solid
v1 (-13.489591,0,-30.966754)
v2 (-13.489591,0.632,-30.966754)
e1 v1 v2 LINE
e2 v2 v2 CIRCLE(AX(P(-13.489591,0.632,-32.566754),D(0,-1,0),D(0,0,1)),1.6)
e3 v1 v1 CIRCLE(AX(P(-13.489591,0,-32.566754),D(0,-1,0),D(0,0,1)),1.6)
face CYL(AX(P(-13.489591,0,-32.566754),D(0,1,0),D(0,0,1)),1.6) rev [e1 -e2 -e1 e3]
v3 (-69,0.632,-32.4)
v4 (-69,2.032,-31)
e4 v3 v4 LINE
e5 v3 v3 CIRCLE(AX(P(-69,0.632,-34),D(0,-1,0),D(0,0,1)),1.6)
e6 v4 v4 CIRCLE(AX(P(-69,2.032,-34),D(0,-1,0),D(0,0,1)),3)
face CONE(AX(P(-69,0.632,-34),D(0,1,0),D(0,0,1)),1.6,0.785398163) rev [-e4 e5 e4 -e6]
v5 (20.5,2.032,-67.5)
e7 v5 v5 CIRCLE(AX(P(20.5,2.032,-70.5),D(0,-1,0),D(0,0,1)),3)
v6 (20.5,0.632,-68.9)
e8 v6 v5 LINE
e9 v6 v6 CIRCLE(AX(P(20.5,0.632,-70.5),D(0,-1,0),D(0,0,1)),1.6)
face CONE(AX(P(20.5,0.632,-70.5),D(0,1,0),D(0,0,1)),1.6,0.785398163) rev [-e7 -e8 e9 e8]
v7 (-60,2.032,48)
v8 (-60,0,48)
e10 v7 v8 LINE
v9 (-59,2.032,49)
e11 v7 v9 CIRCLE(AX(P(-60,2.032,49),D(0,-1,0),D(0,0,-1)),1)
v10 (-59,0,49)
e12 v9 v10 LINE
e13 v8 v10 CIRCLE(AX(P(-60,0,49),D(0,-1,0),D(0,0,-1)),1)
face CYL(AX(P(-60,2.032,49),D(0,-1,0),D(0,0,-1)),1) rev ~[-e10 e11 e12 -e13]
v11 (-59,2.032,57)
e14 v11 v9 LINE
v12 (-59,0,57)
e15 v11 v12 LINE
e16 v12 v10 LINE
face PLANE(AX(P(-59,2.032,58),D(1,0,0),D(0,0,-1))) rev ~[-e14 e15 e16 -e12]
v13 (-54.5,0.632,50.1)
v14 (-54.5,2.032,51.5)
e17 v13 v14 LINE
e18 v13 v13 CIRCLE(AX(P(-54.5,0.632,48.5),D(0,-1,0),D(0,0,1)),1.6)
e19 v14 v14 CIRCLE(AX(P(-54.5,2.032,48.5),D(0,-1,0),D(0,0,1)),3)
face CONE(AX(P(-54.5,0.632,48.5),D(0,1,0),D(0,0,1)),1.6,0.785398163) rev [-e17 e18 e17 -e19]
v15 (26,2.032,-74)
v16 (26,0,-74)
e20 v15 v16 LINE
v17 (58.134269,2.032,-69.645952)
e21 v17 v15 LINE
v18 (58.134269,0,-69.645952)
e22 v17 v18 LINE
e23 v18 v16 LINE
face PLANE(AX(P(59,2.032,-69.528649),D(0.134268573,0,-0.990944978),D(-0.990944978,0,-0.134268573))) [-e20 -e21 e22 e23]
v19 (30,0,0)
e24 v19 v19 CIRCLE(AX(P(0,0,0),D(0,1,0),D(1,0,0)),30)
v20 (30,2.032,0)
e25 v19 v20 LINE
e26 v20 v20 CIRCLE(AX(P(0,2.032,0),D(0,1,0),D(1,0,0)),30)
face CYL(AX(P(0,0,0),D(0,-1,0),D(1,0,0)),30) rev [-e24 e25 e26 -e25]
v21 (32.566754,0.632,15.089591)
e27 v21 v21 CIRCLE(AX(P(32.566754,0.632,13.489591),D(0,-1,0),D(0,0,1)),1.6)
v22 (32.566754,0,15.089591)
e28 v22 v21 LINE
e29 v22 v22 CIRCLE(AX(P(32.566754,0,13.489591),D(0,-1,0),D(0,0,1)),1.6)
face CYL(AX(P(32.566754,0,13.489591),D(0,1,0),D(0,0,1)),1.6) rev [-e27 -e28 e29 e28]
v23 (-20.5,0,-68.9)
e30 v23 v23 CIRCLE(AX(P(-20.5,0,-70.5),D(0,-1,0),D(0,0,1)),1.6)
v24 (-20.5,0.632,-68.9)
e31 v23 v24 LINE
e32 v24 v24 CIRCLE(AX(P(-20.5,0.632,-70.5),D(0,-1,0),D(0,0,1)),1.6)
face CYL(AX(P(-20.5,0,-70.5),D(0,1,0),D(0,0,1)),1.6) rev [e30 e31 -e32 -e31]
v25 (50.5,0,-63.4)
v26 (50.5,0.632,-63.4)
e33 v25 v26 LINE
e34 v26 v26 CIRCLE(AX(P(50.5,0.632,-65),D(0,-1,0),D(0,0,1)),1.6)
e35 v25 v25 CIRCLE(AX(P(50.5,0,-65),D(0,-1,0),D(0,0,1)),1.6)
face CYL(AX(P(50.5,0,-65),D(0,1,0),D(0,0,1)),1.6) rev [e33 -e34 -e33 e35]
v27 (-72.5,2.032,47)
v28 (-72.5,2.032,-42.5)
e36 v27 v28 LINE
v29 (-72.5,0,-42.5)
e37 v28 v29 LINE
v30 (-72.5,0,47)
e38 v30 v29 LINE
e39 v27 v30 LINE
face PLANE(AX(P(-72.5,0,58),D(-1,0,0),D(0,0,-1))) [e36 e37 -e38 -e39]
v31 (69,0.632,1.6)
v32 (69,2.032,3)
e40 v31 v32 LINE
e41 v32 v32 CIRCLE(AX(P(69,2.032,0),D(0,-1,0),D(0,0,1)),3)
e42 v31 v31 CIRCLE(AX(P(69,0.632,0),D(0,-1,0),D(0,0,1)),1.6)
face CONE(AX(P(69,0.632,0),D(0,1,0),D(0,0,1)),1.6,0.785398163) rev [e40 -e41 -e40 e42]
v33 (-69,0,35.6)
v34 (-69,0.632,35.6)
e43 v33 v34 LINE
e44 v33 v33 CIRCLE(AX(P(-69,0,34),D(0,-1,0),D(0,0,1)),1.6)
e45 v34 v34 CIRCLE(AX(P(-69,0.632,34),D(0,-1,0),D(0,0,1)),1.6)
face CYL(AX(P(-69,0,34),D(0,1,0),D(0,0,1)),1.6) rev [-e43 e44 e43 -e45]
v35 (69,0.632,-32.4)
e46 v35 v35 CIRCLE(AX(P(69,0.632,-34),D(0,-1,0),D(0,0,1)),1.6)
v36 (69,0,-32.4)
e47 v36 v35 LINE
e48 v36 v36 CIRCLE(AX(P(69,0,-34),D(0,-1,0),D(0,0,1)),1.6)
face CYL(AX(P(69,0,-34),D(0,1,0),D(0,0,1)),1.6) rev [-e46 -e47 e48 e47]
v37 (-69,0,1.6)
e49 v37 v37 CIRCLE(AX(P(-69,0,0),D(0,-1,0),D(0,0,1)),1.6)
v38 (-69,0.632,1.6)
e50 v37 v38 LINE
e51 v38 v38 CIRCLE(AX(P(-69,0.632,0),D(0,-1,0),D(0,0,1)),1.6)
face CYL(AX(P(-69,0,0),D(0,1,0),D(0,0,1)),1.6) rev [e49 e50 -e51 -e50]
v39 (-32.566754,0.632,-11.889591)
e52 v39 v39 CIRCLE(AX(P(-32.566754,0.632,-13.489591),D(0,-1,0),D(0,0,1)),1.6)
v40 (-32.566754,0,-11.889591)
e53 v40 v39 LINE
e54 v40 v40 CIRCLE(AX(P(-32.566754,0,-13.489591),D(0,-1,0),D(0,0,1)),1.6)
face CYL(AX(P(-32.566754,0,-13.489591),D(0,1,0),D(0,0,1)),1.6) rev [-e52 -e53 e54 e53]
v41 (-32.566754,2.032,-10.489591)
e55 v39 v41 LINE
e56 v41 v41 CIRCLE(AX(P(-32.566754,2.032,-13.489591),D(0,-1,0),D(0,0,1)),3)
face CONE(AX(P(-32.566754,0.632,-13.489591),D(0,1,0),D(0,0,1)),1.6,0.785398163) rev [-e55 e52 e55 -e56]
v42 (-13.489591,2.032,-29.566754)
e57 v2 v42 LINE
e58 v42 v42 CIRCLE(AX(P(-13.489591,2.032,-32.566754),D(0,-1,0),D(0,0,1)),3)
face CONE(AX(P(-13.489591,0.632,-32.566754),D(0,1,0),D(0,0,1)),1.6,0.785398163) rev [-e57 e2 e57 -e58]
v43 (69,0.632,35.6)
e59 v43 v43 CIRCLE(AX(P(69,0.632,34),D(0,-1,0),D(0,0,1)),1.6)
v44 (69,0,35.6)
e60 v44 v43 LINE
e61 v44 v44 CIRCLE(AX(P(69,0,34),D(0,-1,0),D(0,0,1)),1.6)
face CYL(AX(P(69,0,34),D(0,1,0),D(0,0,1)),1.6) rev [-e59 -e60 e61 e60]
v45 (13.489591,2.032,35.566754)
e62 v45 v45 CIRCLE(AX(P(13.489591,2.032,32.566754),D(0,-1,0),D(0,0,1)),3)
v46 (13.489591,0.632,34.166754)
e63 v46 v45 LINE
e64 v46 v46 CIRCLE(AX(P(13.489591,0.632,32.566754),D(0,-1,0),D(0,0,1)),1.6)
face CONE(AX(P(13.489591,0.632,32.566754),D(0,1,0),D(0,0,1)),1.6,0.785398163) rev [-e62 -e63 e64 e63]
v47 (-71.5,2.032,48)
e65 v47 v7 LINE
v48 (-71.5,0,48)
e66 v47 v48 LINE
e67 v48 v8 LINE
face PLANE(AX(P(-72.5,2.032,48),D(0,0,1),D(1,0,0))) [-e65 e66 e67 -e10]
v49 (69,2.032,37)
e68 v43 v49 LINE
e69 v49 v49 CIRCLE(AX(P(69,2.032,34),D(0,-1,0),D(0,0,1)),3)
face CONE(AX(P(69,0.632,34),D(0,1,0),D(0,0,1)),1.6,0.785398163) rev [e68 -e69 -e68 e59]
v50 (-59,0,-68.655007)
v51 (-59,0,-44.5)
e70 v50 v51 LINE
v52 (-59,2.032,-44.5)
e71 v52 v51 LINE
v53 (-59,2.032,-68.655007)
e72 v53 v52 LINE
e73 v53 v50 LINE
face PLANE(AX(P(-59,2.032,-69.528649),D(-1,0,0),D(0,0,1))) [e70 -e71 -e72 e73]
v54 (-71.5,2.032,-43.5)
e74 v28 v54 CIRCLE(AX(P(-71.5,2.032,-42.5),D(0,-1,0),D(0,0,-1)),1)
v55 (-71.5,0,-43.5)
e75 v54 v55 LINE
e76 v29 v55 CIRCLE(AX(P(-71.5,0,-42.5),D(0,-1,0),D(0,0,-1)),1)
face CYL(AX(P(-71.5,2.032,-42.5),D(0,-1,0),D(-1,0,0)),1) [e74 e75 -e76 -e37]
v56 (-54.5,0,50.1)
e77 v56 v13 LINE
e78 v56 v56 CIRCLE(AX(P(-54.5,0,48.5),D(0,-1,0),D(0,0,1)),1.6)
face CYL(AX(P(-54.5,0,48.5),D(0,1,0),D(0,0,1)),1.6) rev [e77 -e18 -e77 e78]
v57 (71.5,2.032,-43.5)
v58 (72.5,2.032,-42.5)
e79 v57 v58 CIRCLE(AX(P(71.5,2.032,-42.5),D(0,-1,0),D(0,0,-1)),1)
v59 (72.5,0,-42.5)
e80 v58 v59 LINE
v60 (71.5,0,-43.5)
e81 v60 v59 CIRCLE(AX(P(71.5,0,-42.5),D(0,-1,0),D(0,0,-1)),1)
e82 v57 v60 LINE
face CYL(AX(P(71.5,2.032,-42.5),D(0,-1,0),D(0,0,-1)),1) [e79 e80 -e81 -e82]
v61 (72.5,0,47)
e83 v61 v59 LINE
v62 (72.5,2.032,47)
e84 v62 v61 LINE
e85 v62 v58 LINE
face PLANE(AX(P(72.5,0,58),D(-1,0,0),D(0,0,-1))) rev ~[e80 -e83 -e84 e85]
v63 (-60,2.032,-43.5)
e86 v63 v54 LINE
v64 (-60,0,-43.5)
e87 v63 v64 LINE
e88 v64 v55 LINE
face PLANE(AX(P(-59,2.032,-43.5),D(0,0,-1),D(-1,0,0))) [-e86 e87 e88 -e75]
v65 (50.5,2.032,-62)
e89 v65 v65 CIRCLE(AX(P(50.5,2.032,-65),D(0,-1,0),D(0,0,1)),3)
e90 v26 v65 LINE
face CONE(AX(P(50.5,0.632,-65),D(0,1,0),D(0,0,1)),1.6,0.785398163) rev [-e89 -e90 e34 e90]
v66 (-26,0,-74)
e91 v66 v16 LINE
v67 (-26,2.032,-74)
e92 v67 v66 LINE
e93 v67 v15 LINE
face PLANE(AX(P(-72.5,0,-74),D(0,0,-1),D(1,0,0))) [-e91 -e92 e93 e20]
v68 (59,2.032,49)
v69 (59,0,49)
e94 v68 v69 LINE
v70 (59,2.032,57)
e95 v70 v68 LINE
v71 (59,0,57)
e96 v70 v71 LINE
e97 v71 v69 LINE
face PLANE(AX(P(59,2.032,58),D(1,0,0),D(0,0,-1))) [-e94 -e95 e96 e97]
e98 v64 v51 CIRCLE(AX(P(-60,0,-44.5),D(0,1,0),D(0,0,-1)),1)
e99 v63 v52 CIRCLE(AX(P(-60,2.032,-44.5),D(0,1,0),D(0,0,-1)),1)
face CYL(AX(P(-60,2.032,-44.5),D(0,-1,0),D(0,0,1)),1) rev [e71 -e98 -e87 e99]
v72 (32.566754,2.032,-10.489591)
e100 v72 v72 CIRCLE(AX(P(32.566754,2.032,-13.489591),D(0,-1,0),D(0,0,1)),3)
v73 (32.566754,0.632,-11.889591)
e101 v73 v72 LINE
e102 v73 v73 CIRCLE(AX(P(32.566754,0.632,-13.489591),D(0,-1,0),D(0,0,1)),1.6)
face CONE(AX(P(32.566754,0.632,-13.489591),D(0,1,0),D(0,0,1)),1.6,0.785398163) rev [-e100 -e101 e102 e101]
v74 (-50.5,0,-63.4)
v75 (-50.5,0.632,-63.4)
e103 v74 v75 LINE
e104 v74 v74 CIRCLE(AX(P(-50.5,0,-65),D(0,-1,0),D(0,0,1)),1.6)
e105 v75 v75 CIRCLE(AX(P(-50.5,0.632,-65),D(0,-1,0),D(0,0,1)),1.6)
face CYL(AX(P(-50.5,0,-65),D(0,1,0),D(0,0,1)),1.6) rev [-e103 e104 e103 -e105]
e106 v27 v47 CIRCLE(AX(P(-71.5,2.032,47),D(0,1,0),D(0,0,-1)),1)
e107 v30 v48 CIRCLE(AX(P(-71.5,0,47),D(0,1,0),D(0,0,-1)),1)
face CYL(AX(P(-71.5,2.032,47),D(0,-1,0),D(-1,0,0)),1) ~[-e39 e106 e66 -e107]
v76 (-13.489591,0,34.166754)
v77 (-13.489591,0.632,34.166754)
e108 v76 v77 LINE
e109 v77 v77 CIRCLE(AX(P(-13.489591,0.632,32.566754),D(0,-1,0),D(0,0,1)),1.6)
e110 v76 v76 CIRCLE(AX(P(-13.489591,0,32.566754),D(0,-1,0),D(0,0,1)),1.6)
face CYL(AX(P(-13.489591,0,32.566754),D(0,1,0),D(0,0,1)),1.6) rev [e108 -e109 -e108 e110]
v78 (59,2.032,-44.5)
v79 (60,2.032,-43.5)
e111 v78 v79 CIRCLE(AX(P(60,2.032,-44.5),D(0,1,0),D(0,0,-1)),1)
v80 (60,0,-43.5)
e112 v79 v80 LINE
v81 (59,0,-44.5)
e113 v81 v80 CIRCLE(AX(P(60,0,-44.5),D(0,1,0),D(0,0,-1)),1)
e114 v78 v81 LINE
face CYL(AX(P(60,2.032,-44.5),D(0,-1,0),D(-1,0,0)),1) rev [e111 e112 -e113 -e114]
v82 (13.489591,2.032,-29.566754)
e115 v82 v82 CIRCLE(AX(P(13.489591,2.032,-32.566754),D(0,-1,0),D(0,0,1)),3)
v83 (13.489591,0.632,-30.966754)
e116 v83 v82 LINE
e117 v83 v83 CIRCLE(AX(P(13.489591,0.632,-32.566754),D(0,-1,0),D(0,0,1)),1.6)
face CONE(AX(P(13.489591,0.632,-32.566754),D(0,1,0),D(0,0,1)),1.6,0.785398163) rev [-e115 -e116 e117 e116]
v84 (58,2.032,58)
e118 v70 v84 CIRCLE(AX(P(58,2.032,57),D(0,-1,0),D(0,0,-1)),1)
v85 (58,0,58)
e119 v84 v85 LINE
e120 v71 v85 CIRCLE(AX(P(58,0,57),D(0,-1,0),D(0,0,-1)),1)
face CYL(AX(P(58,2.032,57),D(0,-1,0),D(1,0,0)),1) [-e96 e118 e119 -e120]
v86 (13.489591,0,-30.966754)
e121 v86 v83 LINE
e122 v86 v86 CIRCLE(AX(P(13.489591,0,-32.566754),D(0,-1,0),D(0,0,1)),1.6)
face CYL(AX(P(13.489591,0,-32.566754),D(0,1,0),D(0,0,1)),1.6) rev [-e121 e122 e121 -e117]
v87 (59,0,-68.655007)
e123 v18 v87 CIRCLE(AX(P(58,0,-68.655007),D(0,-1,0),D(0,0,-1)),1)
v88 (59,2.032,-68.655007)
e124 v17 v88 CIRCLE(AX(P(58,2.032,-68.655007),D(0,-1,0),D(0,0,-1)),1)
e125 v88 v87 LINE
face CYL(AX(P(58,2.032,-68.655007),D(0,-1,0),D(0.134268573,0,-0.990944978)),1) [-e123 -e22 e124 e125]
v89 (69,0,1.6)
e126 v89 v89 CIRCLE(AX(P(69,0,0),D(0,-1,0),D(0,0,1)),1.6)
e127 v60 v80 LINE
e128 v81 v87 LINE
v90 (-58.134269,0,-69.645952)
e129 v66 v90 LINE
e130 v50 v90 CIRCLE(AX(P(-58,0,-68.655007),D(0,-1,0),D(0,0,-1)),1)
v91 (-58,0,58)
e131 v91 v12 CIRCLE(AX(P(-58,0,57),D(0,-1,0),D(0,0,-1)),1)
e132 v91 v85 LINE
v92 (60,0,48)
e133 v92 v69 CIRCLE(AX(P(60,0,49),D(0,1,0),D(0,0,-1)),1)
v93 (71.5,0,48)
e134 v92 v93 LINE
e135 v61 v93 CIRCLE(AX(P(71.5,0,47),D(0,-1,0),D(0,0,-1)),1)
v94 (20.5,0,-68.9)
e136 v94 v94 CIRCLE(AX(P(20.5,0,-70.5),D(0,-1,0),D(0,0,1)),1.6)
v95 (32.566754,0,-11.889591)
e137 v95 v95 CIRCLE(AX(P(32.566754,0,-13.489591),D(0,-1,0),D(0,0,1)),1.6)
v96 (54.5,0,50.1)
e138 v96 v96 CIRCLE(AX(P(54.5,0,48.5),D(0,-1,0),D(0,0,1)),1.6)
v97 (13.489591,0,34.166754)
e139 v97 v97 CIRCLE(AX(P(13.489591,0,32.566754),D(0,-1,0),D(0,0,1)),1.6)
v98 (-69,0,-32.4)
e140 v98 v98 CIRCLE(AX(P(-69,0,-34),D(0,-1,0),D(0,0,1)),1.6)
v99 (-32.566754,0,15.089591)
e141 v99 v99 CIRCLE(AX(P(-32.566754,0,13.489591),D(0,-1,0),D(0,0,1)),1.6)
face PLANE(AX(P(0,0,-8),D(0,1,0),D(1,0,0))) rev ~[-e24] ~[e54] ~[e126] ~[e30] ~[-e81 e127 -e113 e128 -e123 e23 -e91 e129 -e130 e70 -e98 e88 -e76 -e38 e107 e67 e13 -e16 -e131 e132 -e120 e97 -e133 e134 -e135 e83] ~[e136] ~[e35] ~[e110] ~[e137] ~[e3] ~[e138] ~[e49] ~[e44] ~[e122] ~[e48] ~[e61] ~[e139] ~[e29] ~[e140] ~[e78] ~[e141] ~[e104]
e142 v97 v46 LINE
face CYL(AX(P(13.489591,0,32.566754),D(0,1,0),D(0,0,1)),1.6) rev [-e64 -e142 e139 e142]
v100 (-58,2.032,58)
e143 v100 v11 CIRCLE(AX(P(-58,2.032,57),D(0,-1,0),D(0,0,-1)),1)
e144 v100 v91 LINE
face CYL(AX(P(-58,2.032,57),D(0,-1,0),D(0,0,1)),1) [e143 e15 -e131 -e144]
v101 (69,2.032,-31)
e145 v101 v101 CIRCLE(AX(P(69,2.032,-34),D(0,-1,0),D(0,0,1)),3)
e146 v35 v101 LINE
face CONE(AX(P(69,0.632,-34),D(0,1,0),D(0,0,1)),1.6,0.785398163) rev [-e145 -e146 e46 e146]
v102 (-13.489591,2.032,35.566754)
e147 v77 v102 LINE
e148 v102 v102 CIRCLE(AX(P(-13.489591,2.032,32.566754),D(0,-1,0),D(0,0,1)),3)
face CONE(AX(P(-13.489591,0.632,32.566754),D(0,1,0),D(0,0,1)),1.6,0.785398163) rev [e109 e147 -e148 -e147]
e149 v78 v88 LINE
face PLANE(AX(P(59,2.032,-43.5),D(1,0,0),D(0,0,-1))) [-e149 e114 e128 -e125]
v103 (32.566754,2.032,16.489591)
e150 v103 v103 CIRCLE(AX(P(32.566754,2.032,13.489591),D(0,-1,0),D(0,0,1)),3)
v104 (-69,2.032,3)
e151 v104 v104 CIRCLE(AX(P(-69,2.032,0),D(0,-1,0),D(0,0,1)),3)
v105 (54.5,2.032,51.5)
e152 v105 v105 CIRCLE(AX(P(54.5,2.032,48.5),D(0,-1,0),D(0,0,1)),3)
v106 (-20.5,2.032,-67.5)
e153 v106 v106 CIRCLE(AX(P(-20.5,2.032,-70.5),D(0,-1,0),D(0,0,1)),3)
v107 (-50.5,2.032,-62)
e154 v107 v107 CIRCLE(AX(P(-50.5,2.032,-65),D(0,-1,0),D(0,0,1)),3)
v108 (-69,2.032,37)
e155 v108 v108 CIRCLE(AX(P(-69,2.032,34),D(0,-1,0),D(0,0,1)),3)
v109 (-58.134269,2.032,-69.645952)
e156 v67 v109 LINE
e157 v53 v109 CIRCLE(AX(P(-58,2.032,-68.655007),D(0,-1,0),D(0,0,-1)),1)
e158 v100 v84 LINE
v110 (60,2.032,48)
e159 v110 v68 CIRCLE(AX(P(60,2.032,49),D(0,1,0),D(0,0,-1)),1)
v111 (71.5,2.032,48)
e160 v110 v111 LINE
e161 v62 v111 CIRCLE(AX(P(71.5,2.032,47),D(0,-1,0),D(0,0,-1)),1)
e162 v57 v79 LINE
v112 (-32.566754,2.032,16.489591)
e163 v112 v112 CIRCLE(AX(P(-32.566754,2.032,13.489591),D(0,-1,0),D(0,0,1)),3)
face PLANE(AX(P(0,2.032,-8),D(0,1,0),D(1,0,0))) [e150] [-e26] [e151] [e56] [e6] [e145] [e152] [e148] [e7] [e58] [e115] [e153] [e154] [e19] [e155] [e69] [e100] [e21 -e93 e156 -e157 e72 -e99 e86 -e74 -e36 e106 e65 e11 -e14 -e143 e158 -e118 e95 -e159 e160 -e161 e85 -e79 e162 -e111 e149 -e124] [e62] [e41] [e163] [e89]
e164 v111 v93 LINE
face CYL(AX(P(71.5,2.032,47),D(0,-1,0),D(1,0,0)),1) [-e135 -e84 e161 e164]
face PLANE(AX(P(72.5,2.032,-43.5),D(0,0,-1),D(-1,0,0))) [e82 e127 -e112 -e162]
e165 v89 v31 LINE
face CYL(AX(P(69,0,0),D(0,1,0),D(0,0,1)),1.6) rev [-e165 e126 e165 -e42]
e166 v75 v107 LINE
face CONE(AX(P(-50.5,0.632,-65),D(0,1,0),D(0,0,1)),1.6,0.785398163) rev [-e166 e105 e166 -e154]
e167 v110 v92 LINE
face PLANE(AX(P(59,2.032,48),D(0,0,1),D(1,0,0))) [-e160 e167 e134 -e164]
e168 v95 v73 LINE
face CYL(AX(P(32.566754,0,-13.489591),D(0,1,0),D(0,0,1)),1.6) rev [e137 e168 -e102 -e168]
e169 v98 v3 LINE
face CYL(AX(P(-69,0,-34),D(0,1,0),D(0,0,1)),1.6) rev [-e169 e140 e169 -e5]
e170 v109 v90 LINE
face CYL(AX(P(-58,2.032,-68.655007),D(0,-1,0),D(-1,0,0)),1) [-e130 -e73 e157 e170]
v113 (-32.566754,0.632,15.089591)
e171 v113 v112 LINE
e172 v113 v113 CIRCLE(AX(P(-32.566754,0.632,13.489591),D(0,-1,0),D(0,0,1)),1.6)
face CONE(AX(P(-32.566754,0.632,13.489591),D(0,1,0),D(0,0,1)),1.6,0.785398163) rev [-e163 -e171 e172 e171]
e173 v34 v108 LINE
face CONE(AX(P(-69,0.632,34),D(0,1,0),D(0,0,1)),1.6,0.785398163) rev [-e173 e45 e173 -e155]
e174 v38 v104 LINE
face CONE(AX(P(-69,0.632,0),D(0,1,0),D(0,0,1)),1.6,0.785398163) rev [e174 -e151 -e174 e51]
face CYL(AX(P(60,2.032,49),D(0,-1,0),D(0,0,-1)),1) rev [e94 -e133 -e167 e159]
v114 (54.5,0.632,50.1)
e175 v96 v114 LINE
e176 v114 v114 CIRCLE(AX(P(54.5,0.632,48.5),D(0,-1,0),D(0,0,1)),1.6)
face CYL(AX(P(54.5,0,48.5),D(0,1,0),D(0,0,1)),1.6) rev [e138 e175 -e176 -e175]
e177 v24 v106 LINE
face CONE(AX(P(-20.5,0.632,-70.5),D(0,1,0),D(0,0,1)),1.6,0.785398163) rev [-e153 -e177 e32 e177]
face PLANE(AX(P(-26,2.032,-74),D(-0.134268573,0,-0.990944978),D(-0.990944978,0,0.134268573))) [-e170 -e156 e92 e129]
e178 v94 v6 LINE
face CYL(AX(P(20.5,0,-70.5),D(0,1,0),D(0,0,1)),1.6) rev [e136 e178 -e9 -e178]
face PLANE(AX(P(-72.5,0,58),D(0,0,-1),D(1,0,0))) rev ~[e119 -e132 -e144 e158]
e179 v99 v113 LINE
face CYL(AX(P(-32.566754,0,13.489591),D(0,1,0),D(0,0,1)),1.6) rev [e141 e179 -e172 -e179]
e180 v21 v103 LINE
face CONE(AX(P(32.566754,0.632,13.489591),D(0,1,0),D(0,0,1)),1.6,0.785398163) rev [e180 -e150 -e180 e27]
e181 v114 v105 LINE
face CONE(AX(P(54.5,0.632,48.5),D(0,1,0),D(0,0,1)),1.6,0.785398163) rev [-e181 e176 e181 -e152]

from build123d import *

# Parameters (mm, degrees)
SKETCH1_W                     = 145
SKETCH1_H                     = 132
SKETCH1_R                     = 30
BOSS_EXTRUDE1_DEPTH           = 2.032
CSK_FOR_M3_SFHCS1_AT_2_COUNT  = 2
CSK_FOR_M3_SFHCS1_AT_2_PITCH  = 26.979181982
CSK_FOR_M3_SFHCS1_AT_3_COUNT  = 2
CSK_FOR_M3_SFHCS1_AT_3_PITCH  = 49.851028074
CSK_FOR_M3_SFHCS1_AT_4_COUNT  = 2
CSK_FOR_M3_SFHCS1_AT_4_PITCH  = 65.133507042
CSK_FOR_M3_SFHCS1_AT_5_COUNT  = 2
CSK_FOR_M3_SFHCS1_AT_5_PITCH  = 70.5
CSK_FOR_M3_SFHCS1_AT_6_COUNT  = 2
CSK_FOR_M3_SFHCS1_AT_6_PITCH  = 65.133507042
CSK_FOR_M3_SFHCS1_AT_7_COUNT  = 2
CSK_FOR_M3_SFHCS1_AT_7_PITCH  = 49.851028074
CSK_FOR_M3_SFHCS1_AT_8_COUNT  = 2
CSK_FOR_M3_SFHCS1_AT_8_PITCH  = 26.979181982
CSK_FOR_M3_SFHCS2_AT_2_COUNT  = 2
CSK_FOR_M3_SFHCS2_AT_2_PITCH  = 20.506096654
CSK_FOR_M3_SFHCS2_AT_3_COUNT  = 2
CSK_FOR_M3_SFHCS2_AT_3_PITCH  = 34
CSK_FOR_M3_SFHCS2_AT_4_COUNT  = 2
CSK_FOR_M3_SFHCS2_AT_4_PITCH  = 142.126704036
CSK_FOR_M3_SFHCS2_AT_5_COUNT  = 2
CSK_FOR_M3_SFHCS2_AT_5_PITCH  = 124.348301154
CSK_FOR_M3_SFHCS2_AT_6_COUNT  = 2
CSK_FOR_M3_SFHCS2_AT_6_PITCH  = 138
CSK_FOR_M3_SFHCS2_AT_7_COUNT  = 2
CSK_FOR_M3_SFHCS2_AT_7_PITCH  = 153.844076909
CSK_FOR_M3_SFHCS2_AT_8_COUNT  = 2
CSK_FOR_M3_SFHCS2_AT_8_PITCH  = 68
CSK_FOR_M3_SFHCS2_AT_9_COUNT  = 2
CSK_FOR_M3_SFHCS2_AT_9_PITCH  = 100.713703139
CSK_FOR_M3_SFHCS2_AT_10_COUNT = 2
CSK_FOR_M3_SFHCS2_AT_10_PITCH = 115.206336631
CSK_FOR_M3_SFHCS2_AT_11_COUNT = 2
CSK_FOR_M3_SFHCS2_AT_11_PITCH = 137.58815356
CSK_FOR_M3_SFHCS2_AT_12_COUNT = 2
CSK_FOR_M3_SFHCS2_AT_12_PITCH = 155.181345528
SKETCH9_W                     = 13.5
SKETCH9_H                     = 10
CUT_EXTRUDE3_DEPTH            = 3.032
FILLET1_R                     = 1


with BuildPart() as part:
    # Sketch1 → Boss-Extrude1 (new body)
    with BuildSketch(Plane(origin=(0, 0, 0), x_dir=(1, 0, 0), z_dir=(0, 1, 0))):
        with Locations((0, 8)):
            Rectangle(SKETCH1_W, SKETCH1_H)
        Circle(SKETCH1_R, mode=Mode.SUBTRACT)
    extrude(amount=BOSS_EXTRUDE1_DEPTH)

    # Sketch2 → CSK for M3 SFHCS1 (revolve, cut)
    with BuildSketch(Plane(origin=(13.489590991, 2.032, 32.566753521), x_dir=(0, 0, 1), z_dir=(1, 0, 0))):
        Polygon((0, 0), (0, 2.032), (1.6, 2.032), (1.6, 1.4), (3, 0), align=None)
    csk_for_m3_sfhcs1 = revolve(axis=Axis((13.489590991, 8.382, 32.566753521), (0, -1, 0)), mode=Mode.SUBTRACT)

    # CSK for M3 SFHCS1 at 2: CSK for M3 SFHCS1 ×2
    with Locations(*[Vector(0.707106781, 0, -0.707106781) * (i * CSK_FOR_M3_SFHCS1_AT_2_PITCH) for i in range(1, CSK_FOR_M3_SFHCS1_AT_2_COUNT)]):
        add(csk_for_m3_sfhcs1, mode=Mode.SUBTRACT)

    # CSK for M3 SFHCS1 at 3: CSK for M3 SFHCS1 ×2
    with Locations(*[Vector(0.382683432, 0, -0.923879533) * (i * CSK_FOR_M3_SFHCS1_AT_3_PITCH) for i in range(1, CSK_FOR_M3_SFHCS1_AT_3_COUNT)]):
        add(csk_for_m3_sfhcs1, mode=Mode.SUBTRACT)

    # CSK for M3 SFHCS1 at 4: CSK for M3 SFHCS1 ×2
    with Locations(*[(0, 0, -i * CSK_FOR_M3_SFHCS1_AT_4_PITCH) for i in range(1, CSK_FOR_M3_SFHCS1_AT_4_COUNT)]):
        add(csk_for_m3_sfhcs1, mode=Mode.SUBTRACT)

    # CSK for M3 SFHCS1 at 5: CSK for M3 SFHCS1 ×2
    with Locations(*[Vector(-0.382683432, 0, -0.923879533) * (i * CSK_FOR_M3_SFHCS1_AT_5_PITCH) for i in range(1, CSK_FOR_M3_SFHCS1_AT_5_COUNT)]):
        add(csk_for_m3_sfhcs1, mode=Mode.SUBTRACT)

    # CSK for M3 SFHCS1 at 6: CSK for M3 SFHCS1 ×2
    with Locations(*[Vector(-0.707106781, 0, -0.707106781) * (i * CSK_FOR_M3_SFHCS1_AT_6_PITCH) for i in range(1, CSK_FOR_M3_SFHCS1_AT_6_COUNT)]):
        add(csk_for_m3_sfhcs1, mode=Mode.SUBTRACT)

    # CSK for M3 SFHCS1 at 7: CSK for M3 SFHCS1 ×2
    with Locations(*[Vector(-0.923879533, 0, -0.382683432) * (i * CSK_FOR_M3_SFHCS1_AT_7_PITCH) for i in range(1, CSK_FOR_M3_SFHCS1_AT_7_COUNT)]):
        add(csk_for_m3_sfhcs1, mode=Mode.SUBTRACT)

    # CSK for M3 SFHCS1 at 8: CSK for M3 SFHCS1 ×2
    with Locations(*[(-i * CSK_FOR_M3_SFHCS1_AT_8_PITCH, 0, 0) for i in range(1, CSK_FOR_M3_SFHCS1_AT_8_COUNT)]):
        add(csk_for_m3_sfhcs1, mode=Mode.SUBTRACT)

    # Sketch5 → CSK for M3 SFHCS2 (revolve, cut)
    with BuildSketch(Plane(origin=(-69, 2.032, 34), x_dir=(0, 0, 1), z_dir=(1, 0, 0))):
        Polygon((0, 0), (0, 2.032), (1.6, 2.032), (1.6, 1.4), (3, 0), align=None)
    csk_for_m3_sfhcs2 = revolve(axis=Axis((-69, 8.382, 34), (0, -1, 0)), mode=Mode.SUBTRACT)

    # CSK for M3 SFHCS2 at 2: CSK for M3 SFHCS2 ×2
    with Locations(*[Vector(0.707106781, 0, 0.707106781) * (i * CSK_FOR_M3_SFHCS2_AT_2_PITCH) for i in range(1, CSK_FOR_M3_SFHCS2_AT_2_COUNT)]):
        add(csk_for_m3_sfhcs2, mode=Mode.SUBTRACT)

    # CSK for M3 SFHCS2 at 3: CSK for M3 SFHCS2 ×2
    with Locations(*[(0, 0, -i * CSK_FOR_M3_SFHCS2_AT_3_PITCH) for i in range(1, CSK_FOR_M3_SFHCS2_AT_3_COUNT)]):
        add(csk_for_m3_sfhcs2, mode=Mode.SUBTRACT)

    # CSK for M3 SFHCS2 at 4: CSK for M3 SFHCS2 ×2
    with Locations(*[Vector(0.970964612, 0, -0.239223165) * (i * CSK_FOR_M3_SFHCS2_AT_4_PITCH) for i in range(1, CSK_FOR_M3_SFHCS2_AT_4_COUNT)]):
        add(csk_for_m3_sfhcs2, mode=Mode.SUBTRACT)

    # CSK for M3 SFHCS2 at 5: CSK for M3 SFHCS2 ×2
    with Locations(*[Vector(0.993178024, 0, 0.116607946) * (i * CSK_FOR_M3_SFHCS2_AT_5_PITCH) for i in range(1, CSK_FOR_M3_SFHCS2_AT_5_COUNT)]):
        add(csk_for_m3_sfhcs2, mode=Mode.SUBTRACT)

    # CSK for M3 SFHCS2 at 6: CSK for M3 SFHCS2 ×2
    with Locations(*[(i * CSK_FOR_M3_SFHCS2_AT_6_PITCH, 0, 0) for i in range(1, CSK_FOR_M3_SFHCS2_AT_6_COUNT)]):
        add(csk_for_m3_sfhcs2, mode=Mode.SUBTRACT)

    # CSK for M3 SFHCS2 at 7: CSK for M3 SFHCS2 ×2
    with Locations(*[Vector(0.89701211, 0, -0.442005967) * (i * CSK_FOR_M3_SFHCS2_AT_7_PITCH) for i in range(1, CSK_FOR_M3_SFHCS2_AT_7_COUNT)]):
        add(csk_for_m3_sfhcs2, mode=Mode.SUBTRACT)

    # CSK for M3 SFHCS2 at 8: CSK for M3 SFHCS2 ×2
    with Locations(*[(0, 0, -i * CSK_FOR_M3_SFHCS2_AT_8_PITCH) for i in range(1, CSK_FOR_M3_SFHCS2_AT_8_COUNT)]):
        add(csk_for_m3_sfhcs2, mode=Mode.SUBTRACT)

    # CSK for M3 SFHCS2 at 9: CSK for M3 SFHCS2 ×2
    with Locations(*[Vector(0.183689006, 0, -0.982984409) * (i * CSK_FOR_M3_SFHCS2_AT_9_PITCH) for i in range(1, CSK_FOR_M3_SFHCS2_AT_9_COUNT)]):
        add(csk_for_m3_sfhcs2, mode=Mode.SUBTRACT)

    # CSK for M3 SFHCS2 at 10: CSK for M3 SFHCS2 ×2
    with Locations(*[Vector(0.420983788, 0, -0.907068162) * (i * CSK_FOR_M3_SFHCS2_AT_10_PITCH) for i in range(1, CSK_FOR_M3_SFHCS2_AT_10_COUNT)]):
        add(csk_for_m3_sfhcs2, mode=Mode.SUBTRACT)

    # CSK for M3 SFHCS2 at 11: CSK for M3 SFHCS2 ×2
    with Locations(*[Vector(0.65049205, 0, -0.759513063) * (i * CSK_FOR_M3_SFHCS2_AT_11_PITCH) for i in range(1, CSK_FOR_M3_SFHCS2_AT_11_COUNT)]):
        add(csk_for_m3_sfhcs2, mode=Mode.SUBTRACT)

    # CSK for M3 SFHCS2 at 12: CSK for M3 SFHCS2 ×2
    with Locations(*[Vector(0.770066786, 0, -0.637963279) * (i * CSK_FOR_M3_SFHCS2_AT_12_PITCH) for i in range(1, CSK_FOR_M3_SFHCS2_AT_12_COUNT)]):
        add(csk_for_m3_sfhcs2, mode=Mode.SUBTRACT)

    # Sketch9 → Cut-Extrude3 (cut, through all)
    with BuildSketch(Plane(origin=(0, 2.032, 0), x_dir=(1, 0, 0), z_dir=(0, 1, 0))):
        with Locations((-65.75, -53)):
            Rectangle(SKETCH9_W, SKETCH9_H)
        with Locations((65.75, -53)):
            Rectangle(SKETCH9_W, SKETCH9_H)
        Polygon((-26, 74), (-59, 69.528648916), (-59, 43.5), (-72.5, 43.5), (-72.5, 74), align=None)
        Polygon((72.5, 74), (72.5, 43.5), (59, 43.5), (59, 69.528648916), (26, 74), align=None)
    extrude(amount=-CUT_EXTRUDE3_DEPTH, mode=Mode.SUBTRACT)

    # Fillet1
    fillet1_edges = [part.edges().sort_by_distance(p)[0] for p in [
        (-72.5, 1.016, 48),
        (-59, 1.016, 48),
        (-59, 1.016, 58),
        (72.5, 1.016, 48),
        (59, 1.016, 58),
        (59, 1.016, 48),
        (-59, 1.016, -69.528648916),
        (-59, 1.016, -43.5),
        (-72.5, 1.016, -43.5),
        (72.5, 1.016, -43.5),
        (59, 1.016, -43.5),
        (59, 1.016, -69.528648916),
    ]]
    fillet(fillet1_edges, radius=FILLET1_R)


solid = part.part
